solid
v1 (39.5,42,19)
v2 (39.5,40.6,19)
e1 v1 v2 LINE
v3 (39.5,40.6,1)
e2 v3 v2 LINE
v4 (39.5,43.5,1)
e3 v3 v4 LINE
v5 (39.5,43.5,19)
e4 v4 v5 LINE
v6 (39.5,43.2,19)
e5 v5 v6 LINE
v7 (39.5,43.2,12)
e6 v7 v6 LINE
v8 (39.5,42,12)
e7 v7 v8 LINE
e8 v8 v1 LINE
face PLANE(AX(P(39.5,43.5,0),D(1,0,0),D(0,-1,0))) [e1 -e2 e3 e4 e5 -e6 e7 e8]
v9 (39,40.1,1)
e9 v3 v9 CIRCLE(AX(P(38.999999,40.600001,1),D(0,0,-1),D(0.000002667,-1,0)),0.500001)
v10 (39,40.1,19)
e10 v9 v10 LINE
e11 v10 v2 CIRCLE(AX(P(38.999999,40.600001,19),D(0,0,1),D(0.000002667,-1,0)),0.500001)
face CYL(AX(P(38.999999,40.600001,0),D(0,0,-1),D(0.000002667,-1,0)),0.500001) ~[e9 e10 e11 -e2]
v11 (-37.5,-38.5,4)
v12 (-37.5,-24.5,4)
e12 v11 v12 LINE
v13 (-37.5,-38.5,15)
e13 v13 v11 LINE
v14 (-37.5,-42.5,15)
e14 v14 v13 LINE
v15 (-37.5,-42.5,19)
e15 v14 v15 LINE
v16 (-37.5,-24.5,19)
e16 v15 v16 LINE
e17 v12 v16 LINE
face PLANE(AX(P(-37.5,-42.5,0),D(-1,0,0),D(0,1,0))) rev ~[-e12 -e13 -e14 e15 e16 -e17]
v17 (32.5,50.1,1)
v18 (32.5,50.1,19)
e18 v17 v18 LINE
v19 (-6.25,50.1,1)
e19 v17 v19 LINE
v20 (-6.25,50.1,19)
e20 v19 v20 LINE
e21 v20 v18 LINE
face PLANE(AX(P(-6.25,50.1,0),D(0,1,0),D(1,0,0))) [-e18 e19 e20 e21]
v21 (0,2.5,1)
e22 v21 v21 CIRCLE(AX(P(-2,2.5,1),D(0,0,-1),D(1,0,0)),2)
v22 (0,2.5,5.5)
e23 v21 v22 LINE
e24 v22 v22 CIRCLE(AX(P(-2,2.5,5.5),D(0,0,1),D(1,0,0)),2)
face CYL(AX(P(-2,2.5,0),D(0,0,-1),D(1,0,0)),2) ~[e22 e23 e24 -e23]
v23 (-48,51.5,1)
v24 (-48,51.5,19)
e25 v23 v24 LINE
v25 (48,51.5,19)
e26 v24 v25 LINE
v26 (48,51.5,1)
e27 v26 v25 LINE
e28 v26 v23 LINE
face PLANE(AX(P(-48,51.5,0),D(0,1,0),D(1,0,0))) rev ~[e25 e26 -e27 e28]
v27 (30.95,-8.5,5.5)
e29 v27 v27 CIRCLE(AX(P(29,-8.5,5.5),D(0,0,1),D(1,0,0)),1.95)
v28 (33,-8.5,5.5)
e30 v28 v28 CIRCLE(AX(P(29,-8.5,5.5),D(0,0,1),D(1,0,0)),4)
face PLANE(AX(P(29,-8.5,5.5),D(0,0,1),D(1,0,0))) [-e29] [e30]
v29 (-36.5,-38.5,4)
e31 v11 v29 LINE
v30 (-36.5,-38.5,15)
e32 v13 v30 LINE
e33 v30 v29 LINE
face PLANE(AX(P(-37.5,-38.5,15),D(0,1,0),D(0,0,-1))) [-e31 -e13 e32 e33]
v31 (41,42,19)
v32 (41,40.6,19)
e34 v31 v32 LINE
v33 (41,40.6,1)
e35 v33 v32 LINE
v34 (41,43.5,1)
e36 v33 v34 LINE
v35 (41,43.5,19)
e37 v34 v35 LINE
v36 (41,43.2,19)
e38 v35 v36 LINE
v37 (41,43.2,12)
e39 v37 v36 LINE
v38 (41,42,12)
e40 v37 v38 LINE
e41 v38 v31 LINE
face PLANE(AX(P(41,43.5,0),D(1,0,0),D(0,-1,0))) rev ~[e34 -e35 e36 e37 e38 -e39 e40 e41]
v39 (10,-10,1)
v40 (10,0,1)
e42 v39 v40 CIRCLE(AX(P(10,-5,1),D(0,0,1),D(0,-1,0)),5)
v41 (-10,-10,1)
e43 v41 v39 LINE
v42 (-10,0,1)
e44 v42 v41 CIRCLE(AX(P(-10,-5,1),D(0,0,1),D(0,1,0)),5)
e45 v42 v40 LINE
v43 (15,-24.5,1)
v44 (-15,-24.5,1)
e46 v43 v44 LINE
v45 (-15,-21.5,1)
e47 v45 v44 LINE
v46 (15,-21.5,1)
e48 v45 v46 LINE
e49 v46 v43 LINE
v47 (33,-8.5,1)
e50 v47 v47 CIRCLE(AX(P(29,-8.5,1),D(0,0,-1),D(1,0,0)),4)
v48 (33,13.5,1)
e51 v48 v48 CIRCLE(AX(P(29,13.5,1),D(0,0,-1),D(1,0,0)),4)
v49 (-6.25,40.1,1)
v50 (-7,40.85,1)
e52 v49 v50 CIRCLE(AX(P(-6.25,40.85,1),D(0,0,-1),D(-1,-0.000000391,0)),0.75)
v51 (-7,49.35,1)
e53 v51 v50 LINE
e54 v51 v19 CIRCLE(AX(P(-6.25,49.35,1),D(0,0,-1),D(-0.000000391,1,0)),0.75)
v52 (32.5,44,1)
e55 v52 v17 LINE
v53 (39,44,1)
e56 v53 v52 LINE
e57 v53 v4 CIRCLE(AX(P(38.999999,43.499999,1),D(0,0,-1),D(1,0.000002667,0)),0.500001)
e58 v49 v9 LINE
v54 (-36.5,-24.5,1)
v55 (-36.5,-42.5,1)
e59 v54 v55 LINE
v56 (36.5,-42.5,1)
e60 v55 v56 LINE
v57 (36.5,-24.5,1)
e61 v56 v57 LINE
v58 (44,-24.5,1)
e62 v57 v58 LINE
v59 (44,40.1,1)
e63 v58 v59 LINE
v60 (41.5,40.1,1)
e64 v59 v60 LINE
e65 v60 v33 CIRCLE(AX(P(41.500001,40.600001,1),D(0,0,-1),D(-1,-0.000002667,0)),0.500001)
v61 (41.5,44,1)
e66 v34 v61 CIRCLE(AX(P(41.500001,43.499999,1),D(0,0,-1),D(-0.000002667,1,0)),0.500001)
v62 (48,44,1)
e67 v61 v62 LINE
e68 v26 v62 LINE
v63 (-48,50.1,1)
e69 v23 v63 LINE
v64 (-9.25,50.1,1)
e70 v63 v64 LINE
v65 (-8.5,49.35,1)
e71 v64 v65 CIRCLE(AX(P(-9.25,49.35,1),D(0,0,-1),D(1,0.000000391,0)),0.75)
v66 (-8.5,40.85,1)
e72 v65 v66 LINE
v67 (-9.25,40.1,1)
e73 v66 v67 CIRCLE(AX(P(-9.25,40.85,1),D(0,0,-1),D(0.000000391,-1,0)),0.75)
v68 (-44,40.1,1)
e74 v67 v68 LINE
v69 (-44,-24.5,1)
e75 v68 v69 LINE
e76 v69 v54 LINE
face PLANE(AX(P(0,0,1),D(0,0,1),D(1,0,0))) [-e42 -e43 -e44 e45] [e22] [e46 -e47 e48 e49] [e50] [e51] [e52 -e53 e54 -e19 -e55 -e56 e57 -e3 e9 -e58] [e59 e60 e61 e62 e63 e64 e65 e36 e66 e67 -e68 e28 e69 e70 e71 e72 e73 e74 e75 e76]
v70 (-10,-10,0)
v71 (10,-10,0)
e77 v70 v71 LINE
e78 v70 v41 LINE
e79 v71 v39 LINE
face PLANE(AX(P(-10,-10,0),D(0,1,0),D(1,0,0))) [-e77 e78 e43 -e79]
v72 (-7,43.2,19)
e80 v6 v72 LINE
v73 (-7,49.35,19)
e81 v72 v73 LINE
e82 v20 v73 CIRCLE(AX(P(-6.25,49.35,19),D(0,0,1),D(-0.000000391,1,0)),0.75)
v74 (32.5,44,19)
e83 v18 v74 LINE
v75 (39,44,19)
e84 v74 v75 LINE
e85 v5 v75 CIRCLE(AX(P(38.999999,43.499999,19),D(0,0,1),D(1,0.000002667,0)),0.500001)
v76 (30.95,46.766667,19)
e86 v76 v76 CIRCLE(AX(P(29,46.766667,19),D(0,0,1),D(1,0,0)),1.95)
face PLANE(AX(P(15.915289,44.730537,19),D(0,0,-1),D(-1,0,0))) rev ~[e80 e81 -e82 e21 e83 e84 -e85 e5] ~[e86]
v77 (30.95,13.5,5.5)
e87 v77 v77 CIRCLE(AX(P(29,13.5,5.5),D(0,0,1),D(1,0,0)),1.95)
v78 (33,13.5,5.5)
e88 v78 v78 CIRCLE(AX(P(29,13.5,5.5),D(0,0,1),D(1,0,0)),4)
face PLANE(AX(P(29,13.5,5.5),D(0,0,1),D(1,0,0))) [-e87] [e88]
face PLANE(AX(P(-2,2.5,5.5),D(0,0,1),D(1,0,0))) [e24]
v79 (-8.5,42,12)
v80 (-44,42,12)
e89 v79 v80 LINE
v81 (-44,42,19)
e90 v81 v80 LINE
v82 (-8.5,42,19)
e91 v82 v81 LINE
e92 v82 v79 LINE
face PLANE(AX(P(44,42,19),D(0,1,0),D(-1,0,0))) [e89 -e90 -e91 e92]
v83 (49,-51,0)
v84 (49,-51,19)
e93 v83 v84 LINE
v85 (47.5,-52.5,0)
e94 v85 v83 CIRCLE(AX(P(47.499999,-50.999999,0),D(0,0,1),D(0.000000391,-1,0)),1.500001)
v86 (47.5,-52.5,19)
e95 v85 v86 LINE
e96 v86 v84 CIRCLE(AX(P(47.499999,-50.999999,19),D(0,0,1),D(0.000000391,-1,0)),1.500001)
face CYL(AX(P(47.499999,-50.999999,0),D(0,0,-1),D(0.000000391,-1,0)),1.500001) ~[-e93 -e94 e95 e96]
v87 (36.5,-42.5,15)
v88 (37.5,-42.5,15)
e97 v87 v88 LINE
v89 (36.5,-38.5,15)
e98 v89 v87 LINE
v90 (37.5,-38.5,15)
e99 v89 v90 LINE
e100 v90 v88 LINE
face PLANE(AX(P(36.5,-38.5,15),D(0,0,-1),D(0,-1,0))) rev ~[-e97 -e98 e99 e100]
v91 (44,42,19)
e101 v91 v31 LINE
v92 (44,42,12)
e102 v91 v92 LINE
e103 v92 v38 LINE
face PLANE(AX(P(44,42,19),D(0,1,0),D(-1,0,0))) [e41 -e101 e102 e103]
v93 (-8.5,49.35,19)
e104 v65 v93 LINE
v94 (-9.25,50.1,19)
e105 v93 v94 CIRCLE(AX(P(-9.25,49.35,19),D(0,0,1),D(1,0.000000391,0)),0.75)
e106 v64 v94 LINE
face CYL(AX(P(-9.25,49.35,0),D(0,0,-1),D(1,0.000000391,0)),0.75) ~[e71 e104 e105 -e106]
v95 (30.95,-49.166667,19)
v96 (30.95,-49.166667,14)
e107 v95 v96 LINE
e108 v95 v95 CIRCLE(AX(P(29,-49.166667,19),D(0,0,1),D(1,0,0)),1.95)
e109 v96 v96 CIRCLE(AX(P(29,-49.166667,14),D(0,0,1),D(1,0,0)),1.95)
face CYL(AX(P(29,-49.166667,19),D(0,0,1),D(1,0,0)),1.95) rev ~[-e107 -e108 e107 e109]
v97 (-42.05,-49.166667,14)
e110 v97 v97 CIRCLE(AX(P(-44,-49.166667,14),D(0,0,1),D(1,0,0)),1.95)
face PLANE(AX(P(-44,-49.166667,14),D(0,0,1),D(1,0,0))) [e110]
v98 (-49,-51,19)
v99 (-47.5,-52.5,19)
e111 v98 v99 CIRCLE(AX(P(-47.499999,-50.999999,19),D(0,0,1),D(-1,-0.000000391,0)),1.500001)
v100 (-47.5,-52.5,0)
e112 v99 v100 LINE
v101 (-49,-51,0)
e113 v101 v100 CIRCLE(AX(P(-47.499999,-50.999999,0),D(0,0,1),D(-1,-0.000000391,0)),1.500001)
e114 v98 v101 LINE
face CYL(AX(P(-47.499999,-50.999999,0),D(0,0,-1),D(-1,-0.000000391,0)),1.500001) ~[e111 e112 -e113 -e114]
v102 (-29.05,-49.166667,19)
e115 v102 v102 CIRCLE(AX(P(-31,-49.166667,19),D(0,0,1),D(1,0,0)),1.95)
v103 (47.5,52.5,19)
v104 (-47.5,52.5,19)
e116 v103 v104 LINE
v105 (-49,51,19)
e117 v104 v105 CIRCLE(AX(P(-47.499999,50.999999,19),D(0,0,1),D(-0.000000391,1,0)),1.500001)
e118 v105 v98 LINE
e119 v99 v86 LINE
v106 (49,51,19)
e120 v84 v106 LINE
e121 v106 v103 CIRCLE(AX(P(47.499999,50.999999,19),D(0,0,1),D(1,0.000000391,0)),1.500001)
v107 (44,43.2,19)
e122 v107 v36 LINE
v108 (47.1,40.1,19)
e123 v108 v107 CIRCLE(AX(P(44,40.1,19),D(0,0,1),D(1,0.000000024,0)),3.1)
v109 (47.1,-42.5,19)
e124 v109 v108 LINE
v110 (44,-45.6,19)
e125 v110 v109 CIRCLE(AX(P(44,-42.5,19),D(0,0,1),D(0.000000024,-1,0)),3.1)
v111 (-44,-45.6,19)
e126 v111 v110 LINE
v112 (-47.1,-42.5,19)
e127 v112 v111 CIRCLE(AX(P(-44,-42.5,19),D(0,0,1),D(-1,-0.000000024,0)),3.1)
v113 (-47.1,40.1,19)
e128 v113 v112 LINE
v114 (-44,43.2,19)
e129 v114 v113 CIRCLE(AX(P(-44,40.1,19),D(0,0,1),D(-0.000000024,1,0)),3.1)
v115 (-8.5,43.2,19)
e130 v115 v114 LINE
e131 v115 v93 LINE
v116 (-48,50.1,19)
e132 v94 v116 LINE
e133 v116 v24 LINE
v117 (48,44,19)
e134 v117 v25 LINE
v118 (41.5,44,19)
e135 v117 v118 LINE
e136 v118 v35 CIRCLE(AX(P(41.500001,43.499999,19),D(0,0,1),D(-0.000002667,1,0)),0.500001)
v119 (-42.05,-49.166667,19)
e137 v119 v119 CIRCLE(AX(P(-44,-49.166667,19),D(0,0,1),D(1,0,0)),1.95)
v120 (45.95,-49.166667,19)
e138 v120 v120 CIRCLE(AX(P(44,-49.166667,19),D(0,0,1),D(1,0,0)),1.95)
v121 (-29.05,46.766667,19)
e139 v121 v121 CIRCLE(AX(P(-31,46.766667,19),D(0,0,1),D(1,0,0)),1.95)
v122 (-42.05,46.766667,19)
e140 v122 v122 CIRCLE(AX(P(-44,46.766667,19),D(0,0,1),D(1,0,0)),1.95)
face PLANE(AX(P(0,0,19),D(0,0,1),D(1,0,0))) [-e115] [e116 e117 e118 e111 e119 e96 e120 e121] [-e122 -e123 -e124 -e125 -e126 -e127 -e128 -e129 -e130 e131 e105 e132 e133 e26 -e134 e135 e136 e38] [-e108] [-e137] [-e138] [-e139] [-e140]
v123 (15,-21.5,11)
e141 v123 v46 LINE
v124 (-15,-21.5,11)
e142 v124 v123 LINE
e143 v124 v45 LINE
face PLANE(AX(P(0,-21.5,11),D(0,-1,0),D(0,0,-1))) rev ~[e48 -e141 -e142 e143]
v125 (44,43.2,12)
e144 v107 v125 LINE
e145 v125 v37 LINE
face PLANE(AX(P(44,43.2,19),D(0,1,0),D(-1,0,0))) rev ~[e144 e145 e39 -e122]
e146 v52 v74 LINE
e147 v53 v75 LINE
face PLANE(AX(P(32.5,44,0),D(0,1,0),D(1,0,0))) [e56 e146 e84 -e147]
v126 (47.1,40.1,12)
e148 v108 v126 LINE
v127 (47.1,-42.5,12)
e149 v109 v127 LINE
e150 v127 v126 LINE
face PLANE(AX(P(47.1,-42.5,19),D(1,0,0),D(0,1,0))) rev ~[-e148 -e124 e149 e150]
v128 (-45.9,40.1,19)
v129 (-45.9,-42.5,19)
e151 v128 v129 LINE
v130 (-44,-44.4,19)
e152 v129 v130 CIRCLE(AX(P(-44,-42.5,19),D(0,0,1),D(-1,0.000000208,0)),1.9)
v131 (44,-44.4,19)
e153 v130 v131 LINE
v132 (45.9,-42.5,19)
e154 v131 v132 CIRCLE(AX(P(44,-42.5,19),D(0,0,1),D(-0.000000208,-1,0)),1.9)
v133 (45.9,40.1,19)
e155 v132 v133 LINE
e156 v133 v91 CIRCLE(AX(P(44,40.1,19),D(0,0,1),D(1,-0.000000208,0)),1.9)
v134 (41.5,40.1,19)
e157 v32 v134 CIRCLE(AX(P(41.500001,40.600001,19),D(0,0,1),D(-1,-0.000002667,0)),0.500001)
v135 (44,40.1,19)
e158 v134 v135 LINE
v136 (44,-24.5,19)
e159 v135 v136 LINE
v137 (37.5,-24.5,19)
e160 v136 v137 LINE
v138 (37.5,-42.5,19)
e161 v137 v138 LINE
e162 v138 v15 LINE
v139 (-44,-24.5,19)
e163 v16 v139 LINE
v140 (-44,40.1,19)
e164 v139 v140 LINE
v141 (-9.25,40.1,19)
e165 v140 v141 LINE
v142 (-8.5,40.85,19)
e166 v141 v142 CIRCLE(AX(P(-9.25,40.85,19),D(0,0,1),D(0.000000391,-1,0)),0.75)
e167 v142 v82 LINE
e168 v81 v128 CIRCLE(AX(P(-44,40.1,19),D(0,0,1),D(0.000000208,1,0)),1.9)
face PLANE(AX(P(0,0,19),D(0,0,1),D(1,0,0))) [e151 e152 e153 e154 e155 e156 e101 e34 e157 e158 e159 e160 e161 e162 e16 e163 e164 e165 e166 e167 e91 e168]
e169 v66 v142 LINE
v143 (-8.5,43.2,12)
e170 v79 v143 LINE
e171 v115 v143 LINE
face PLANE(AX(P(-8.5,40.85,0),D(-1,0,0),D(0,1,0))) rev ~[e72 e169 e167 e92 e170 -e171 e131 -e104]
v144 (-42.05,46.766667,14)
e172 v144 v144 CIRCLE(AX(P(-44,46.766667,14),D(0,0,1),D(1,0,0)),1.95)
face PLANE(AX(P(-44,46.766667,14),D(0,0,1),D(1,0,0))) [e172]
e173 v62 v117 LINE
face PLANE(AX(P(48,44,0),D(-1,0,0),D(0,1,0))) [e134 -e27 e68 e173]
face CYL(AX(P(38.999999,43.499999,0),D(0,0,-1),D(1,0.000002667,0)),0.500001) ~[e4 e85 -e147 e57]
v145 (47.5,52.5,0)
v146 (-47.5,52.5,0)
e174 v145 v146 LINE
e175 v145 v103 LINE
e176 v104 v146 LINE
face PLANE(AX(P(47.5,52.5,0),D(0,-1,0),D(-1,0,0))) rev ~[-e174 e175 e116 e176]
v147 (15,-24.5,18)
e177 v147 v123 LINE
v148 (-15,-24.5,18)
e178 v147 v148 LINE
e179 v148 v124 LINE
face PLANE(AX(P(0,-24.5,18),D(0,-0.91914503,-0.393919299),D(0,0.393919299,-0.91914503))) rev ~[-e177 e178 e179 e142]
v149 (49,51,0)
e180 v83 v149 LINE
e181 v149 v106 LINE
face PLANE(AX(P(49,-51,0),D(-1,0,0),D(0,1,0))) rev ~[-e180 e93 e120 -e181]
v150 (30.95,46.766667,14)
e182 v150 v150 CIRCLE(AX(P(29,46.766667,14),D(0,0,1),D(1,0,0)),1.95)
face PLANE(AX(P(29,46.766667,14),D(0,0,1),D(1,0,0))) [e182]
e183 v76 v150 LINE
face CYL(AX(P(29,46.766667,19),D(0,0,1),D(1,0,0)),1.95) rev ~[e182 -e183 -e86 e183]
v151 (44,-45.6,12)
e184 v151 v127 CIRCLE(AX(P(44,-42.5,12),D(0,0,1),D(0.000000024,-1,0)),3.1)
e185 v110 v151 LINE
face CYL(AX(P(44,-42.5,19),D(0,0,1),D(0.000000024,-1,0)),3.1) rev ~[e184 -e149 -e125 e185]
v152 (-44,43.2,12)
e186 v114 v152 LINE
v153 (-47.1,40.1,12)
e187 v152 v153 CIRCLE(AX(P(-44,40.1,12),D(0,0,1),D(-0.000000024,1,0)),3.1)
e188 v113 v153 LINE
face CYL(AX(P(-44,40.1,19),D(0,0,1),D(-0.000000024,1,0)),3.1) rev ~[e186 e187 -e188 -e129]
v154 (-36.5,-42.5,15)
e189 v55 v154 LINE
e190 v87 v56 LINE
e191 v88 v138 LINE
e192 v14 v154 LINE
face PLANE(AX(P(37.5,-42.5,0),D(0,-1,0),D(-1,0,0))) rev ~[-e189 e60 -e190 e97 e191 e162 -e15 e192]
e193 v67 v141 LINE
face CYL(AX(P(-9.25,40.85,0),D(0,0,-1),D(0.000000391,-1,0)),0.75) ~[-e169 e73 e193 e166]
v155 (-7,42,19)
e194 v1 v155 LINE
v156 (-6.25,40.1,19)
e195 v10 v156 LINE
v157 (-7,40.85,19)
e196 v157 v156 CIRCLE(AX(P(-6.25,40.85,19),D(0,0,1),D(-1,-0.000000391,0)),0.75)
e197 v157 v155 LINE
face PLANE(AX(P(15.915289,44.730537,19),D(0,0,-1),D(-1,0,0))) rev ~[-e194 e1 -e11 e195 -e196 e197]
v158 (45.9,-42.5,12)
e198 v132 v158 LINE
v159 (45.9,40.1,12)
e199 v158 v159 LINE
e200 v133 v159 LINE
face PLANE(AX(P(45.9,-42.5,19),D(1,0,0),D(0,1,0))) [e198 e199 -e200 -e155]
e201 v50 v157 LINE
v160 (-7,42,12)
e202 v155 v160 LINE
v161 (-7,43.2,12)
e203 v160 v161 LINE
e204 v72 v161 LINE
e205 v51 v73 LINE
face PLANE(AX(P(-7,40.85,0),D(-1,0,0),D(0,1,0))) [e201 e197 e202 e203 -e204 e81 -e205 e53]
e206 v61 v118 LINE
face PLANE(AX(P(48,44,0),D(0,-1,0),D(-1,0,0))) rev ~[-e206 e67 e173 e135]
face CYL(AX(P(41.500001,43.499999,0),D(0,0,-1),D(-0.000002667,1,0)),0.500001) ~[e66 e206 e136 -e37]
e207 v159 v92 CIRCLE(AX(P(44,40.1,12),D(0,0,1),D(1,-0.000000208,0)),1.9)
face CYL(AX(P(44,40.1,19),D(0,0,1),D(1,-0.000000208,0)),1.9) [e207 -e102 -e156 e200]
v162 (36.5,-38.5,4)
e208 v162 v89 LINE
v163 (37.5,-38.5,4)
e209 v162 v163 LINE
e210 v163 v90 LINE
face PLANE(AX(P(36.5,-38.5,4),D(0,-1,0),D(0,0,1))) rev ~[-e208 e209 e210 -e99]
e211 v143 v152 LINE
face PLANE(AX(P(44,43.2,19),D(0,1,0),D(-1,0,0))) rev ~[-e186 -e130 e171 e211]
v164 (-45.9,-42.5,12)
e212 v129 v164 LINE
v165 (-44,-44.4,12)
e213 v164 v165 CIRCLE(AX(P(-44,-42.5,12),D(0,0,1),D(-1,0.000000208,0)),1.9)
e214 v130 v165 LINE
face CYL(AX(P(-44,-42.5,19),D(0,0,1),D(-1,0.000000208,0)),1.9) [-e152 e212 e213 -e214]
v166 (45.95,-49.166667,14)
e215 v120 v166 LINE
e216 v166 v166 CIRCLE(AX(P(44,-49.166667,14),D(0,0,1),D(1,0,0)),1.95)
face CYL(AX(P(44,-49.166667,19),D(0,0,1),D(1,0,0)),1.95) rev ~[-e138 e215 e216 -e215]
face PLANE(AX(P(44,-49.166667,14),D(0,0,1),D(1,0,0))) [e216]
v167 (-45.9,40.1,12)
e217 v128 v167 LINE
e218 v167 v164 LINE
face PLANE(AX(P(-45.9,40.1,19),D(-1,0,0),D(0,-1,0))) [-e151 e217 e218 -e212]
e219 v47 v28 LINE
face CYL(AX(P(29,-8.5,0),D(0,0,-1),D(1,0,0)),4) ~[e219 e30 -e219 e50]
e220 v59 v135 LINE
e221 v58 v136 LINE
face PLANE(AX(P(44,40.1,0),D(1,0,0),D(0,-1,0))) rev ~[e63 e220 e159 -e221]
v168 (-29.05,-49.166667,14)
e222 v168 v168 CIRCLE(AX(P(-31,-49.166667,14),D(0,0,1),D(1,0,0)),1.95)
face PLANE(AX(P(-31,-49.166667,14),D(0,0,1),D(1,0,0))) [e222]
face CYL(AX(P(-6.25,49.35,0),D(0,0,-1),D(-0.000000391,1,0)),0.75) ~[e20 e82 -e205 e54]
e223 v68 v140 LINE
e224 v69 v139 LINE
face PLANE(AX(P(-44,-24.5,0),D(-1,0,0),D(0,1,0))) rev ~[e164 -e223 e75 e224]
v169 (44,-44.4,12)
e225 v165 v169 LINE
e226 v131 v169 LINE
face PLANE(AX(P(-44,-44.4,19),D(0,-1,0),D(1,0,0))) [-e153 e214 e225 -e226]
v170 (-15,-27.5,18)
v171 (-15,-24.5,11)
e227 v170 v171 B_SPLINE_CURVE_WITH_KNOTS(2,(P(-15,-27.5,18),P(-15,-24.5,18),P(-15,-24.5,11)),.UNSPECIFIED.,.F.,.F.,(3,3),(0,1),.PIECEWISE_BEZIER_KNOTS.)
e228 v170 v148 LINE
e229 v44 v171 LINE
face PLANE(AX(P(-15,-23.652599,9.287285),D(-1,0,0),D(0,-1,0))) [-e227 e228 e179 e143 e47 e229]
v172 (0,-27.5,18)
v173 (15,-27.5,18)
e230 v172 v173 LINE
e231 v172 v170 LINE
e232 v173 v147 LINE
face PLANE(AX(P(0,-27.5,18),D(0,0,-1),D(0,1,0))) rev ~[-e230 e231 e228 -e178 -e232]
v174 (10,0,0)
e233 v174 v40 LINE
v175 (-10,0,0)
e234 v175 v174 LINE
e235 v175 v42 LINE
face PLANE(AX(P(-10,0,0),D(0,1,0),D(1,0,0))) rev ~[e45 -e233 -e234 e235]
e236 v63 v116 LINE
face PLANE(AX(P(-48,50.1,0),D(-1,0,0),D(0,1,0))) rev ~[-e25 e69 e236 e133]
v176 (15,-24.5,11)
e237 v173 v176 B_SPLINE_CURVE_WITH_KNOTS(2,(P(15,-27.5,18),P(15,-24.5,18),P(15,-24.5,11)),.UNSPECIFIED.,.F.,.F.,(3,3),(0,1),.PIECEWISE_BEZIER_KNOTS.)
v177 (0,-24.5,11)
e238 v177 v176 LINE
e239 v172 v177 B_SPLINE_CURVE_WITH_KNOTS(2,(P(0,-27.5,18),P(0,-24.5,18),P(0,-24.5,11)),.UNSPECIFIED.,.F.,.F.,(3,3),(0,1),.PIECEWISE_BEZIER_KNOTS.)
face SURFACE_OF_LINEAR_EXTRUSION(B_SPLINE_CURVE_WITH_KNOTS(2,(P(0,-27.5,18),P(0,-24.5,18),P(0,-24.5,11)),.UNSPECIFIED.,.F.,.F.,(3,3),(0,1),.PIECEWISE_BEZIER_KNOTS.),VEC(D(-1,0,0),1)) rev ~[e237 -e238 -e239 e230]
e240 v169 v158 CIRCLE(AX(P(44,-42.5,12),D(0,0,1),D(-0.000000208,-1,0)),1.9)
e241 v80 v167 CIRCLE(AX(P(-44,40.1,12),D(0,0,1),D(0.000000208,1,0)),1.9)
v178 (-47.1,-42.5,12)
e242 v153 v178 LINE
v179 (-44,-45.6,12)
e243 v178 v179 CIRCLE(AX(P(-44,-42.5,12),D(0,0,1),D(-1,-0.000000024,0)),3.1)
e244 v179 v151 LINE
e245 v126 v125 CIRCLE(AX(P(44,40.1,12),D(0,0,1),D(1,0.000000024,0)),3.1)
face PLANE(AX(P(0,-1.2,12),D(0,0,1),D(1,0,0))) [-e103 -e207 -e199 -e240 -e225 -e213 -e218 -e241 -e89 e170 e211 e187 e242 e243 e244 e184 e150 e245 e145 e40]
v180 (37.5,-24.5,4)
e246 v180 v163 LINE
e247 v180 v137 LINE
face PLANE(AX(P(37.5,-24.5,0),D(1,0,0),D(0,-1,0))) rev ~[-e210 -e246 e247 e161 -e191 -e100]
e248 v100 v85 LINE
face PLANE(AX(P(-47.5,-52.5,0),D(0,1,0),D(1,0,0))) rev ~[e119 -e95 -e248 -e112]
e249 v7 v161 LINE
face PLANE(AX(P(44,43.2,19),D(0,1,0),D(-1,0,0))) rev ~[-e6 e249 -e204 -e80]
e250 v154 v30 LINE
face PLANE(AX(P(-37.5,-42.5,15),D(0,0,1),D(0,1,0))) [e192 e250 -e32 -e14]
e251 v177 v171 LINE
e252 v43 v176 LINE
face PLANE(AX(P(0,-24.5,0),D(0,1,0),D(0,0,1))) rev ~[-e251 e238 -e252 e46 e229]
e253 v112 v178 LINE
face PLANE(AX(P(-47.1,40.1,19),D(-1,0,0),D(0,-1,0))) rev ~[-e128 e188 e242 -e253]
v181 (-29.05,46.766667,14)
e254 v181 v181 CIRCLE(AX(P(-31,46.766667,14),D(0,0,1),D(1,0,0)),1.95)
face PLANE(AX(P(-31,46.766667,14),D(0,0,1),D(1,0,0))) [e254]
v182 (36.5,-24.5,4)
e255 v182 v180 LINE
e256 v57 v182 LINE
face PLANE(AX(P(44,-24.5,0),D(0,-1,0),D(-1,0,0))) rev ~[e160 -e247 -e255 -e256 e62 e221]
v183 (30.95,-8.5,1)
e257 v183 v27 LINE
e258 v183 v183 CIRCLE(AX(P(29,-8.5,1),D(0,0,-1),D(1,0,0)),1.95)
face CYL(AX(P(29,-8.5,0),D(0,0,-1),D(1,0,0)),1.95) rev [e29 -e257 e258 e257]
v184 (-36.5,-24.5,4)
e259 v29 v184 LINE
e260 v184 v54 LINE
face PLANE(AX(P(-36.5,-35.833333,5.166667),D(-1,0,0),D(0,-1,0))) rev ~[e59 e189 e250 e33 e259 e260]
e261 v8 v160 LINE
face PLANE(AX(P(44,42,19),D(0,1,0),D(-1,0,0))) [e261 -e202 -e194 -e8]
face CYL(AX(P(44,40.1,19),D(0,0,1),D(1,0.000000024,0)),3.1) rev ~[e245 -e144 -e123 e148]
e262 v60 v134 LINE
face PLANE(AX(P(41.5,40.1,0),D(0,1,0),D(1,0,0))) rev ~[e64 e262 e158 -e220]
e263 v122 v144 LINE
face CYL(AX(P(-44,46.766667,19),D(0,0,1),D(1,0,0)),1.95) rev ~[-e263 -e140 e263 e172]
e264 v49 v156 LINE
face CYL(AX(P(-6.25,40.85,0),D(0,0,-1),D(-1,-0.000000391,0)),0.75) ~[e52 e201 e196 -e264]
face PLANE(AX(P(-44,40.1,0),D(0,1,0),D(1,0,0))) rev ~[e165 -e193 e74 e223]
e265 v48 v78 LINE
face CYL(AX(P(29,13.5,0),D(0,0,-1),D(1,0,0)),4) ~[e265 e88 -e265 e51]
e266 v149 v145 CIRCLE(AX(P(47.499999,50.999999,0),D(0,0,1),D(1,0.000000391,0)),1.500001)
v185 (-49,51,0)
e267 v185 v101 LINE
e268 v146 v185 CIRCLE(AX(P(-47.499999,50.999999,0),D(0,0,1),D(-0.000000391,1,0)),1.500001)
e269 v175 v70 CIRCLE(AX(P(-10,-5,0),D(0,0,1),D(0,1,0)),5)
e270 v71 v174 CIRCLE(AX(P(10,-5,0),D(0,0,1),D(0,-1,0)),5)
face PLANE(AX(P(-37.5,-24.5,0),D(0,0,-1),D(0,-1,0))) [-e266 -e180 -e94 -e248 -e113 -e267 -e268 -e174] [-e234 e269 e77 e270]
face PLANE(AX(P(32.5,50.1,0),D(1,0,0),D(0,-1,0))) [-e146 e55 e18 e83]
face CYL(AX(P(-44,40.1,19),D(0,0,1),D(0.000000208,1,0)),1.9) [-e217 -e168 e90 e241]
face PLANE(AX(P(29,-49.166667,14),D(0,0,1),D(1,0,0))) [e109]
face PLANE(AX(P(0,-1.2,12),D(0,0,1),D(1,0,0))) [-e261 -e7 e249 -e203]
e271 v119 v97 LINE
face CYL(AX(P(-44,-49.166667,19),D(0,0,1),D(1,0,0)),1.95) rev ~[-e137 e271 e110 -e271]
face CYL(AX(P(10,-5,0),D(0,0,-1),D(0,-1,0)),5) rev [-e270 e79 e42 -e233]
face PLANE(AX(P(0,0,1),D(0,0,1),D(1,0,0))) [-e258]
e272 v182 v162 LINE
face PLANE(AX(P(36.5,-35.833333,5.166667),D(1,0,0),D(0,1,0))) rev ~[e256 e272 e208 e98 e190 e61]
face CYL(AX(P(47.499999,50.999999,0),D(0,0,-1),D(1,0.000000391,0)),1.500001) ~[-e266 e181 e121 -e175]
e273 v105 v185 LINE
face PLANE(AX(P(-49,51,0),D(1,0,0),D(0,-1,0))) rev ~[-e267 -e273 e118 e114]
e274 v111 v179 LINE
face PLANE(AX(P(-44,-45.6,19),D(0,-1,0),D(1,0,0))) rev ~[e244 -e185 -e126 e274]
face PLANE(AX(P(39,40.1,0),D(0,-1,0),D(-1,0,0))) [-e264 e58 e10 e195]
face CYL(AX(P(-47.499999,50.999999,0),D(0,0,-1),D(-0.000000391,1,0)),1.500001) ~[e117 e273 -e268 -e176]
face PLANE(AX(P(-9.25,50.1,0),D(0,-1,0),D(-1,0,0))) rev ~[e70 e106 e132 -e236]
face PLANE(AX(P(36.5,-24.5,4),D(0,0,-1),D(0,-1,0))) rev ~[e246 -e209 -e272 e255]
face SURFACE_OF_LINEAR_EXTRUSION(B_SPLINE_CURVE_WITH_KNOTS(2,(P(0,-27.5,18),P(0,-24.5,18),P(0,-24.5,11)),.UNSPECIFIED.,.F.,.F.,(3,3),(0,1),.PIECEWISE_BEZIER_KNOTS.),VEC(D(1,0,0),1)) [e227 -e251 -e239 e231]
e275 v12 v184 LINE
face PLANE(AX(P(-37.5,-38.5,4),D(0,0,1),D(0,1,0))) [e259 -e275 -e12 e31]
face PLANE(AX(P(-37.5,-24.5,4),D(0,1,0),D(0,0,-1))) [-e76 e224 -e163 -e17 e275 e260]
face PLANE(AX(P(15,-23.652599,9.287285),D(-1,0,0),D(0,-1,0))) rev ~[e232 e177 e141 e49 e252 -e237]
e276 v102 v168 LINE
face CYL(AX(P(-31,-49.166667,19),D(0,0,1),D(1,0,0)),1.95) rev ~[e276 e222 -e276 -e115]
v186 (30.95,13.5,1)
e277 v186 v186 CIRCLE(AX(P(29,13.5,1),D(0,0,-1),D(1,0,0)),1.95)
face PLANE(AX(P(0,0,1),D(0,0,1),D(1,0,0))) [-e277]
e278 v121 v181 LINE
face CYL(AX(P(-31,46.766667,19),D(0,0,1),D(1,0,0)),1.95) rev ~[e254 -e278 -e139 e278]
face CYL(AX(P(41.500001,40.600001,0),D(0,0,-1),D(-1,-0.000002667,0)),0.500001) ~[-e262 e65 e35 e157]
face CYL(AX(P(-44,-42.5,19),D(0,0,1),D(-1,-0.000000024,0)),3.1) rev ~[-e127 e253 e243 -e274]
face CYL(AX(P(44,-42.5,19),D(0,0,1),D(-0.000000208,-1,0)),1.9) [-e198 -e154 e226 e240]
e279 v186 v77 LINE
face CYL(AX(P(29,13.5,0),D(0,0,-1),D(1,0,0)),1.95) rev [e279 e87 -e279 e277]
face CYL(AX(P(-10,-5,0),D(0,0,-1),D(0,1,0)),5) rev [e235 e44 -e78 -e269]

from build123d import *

# Parameters (mm, degrees)
PAD_DEPTH       = 1
PAD001_DEPTH    = 19
SKETCH002_R     = 4
SKETCH002_R_2   = 1.95
SKETCH002_R_3   = 2
PAD002_DEPTH    = 5.5
PAD003_DEPTH    = 15
POCKET_DEPTH    = 7
PAD004_DEPTH    = 1
SKETCH007_R     = 1.95
POCKET001_DEPTH = 5
PAD014_DEPTH    = 1


with BuildPart() as part:
    # Sketch → Pad (new body)
    with BuildSketch(Plane.XY):
        with BuildLine():
            Line((-47.5, -52.5), (47.5, -52.5))
            ThreePointArc((47.5, -52.5), (48.56066, -52.06066), (49, -51))
            Line((49, -51), (49, 51))
            ThreePointArc((49, 51), (48.56066, 52.06066), (47.5, 52.5))
            Line((47.5, 52.5), (-47.5, 52.5))
            ThreePointArc((-47.5, 52.5), (-48.56066, 52.06066), (-49, 51))
            Line((-49, 51), (-49, -51))
            ThreePointArc((-49, -51), (-48.56066, -52.06066), (-47.5, -52.5))
        make_face()
        with BuildLine():
            ThreePointArc((-10, 0), (-15, -5), (-10, -10))
            Line((-10, -10), (10, -10))
            ThreePointArc((10, -10), (15, -5), (10, 0))
            Line((-10, 0), (10, 0))
        make_face(mode=Mode.SUBTRACT)
    extrude(amount=PAD_DEPTH)

    # Sketch001 → Pad001 (join)
    with BuildSketch(Plane.XY):
        with BuildLine():
            Line((-47.5, -52.5), (47.5, -52.5))
            ThreePointArc((47.5, -52.5), (48.56066, -52.06066), (49, -51))
            Line((49, -51), (49, 51))
            ThreePointArc((49, 51), (48.56066, 52.06066), (47.5, 52.5))
            Line((47.5, 52.5), (-47.5, 52.5))
            ThreePointArc((-47.5, 52.5), (-48.56066, 52.06066), (-49, 51))
            Line((-49, 51), (-49, -51))
            ThreePointArc((-49, -51), (-48.56066, -52.06066), (-47.5, -52.5))
        make_face()
        with BuildLine():
            Line((44, 40.1), (44, -24.5))
            Line((44, -24.5), (37.5, -24.5))
            Line((37.5, -24.5), (37.5, -42.5))
            Line((37.5, -42.5), (-37.5, -42.5))
            Line((-37.5, -42.5), (-37.5, -24.5))
            Line((-37.5, -24.5), (-44, -24.5))
            Line((-44, -24.5), (-44, 40.1))
            Line((-44, 40.1), (-9.25, 40.1))
            ThreePointArc((-9.25, 40.1), (-8.71967, 40.31967), (-8.5, 40.85))
            Line((-8.5, 40.85), (-8.5, 49.35))
            ThreePointArc((-8.5, 49.35), (-8.71967, 49.88033), (-9.25, 50.1))
            Line((-9.25, 50.1), (-48, 50.1))
            Line((-48, 50.1), (-48, 51.5))
            Line((-48, 51.5), (48, 51.5))
            Line((48, 44), (48, 51.5))
            Line((48, 44), (41.5, 44))
            ThreePointArc((41.5, 44), (41.146447, 43.853553), (41, 43.5))
            Line((41, 43.5), (41, 40.6))
            ThreePointArc((41, 40.6), (41.146447, 40.246447), (41.5, 40.1))
            Line((41.5, 40.1), (44, 40.1))
        make_face(mode=Mode.SUBTRACT)
        with BuildLine():
            Line((-7, 40.85), (-7, 49.35))
            ThreePointArc((-6.25, 50.1), (-6.78033, 49.88033), (-7, 49.35))
            Line((-6.25, 50.1), (32.5, 50.1))
            Line((32.5, 50.1), (32.5, 44))
            Line((32.5, 44), (39, 44))
            ThreePointArc((39.5, 43.5), (39.353553, 43.853553), (39, 44))
            Line((39.5, 43.5), (39.5, 40.6))
            ThreePointArc((39, 40.1), (39.353553, 40.246447), (39.5, 40.6))
            Line((39, 40.1), (-6.25, 40.1))
            ThreePointArc((-7, 40.85), (-6.78033, 40.31967), (-6.25, 40.1))
        make_face()
    extrude(amount=PAD001_DEPTH)

    # Sketch002 → Pad002 (join)
    with BuildSketch(Plane.XY):
        with Locations((29, 13.5)):
            Circle(SKETCH002_R)
        with Locations((29, 13.5)):
            Circle(SKETCH002_R_2, mode=Mode.SUBTRACT)
        with Locations((29, -8.5)):
            Circle(SKETCH002_R)
        with Locations((29, -8.5)):
            Circle(SKETCH002_R_2, mode=Mode.SUBTRACT)
        with Locations((-2, 2.5)):
            Circle(SKETCH002_R_3)
    extrude(amount=PAD002_DEPTH)

    # Sketch003 → Pad003 (join, symmetric)
    with BuildSketch(Plane.YZ):
        with BuildLine():
            Line((-24.5, 0), (-24.5, 11))
            add(Edge.make_bspline(
                [(-27.5, 18), (-24.5, 18), (-24.5, 11)],
                knots=[0, 0, 0, 1, 1, 1], degree=2))
            Line((-27.5, 18), (-24.5, 18))
            Line((-24.5, 18), (-21.5, 11))
            Line((-21.5, 11), (-21.5, 0))
            Line((-21.5, 0), (-24.5, 0))
        make_face()
    extrude(amount=PAD003_DEPTH, both=True)

    # Sketch004 (on Face14 of Pad003) → Pocket (cut)
    with BuildSketch(Plane.XY.offset(19)):
        with BuildLine():
            Line((47.1, -42.5), (47.1, 40.1))
            ThreePointArc((47.1, 40.1), (46.192031, 42.292031), (44, 43.2))
            Line((44, 43.2), (-44, 43.2))
            ThreePointArc((-44, 43.2), (-46.192031, 42.292031), (-47.1, 40.1))
            Line((-47.1, 40.1), (-47.1, -42.5))
            ThreePointArc((-47.1, -42.5), (-46.192031, -44.692031), (-44, -45.6))
            Line((-44, -45.6), (44, -45.6))
            ThreePointArc((44, -45.6), (46.192031, -44.692031), (47.1, -42.5))
        make_face()
        with BuildLine():
            Line((45.9, -42.5), (45.9, 40.1))
            ThreePointArc((45.9, 40.1), (45.343503, 41.443503), (44, 42))
            Line((44, 42), (-44, 42))
            ThreePointArc((-44, 42), (-45.343503, 41.443503), (-45.9, 40.1))
            Line((-45.9, 40.1), (-45.9, -42.5))
            ThreePointArc((-45.9, -42.5), (-45.343503, -43.843503), (-44, -44.4))
            Line((-44, -44.4), (44, -44.4))
            ThreePointArc((44, -44.4), (45.343503, -43.843503), (45.9, -42.5))
        make_face(mode=Mode.SUBTRACT)
    extrude(amount=-POCKET_DEPTH, mode=Mode.SUBTRACT)

    # Sketch005 → Pad004 (join)
    with BuildSketch(Plane.YZ.offset(36.5)):
        Polygon((-24.5, 0), (-24.5, 4), (-38.5, 4), (-38.5, 15), (-42.5, 15), (-42.5, 0), align=None)
    extrude(amount=PAD004_DEPTH)

    # Sketch007 (on DatumPlane) → Pocket001 (cut)
    with BuildSketch(Plane.XY.offset(19)):
        with Locations((-44, -49.166667)):
            Circle(SKETCH007_R)
        with Locations((44, -49.166667)):
            Circle(SKETCH007_R)
        with Locations((-44, 46.766667)):
            Circle(SKETCH007_R)
        with Locations((29, 46.766667)):
            Circle(SKETCH007_R)
        with Locations((-31, 46.766667)):
            Circle(SKETCH007_R)
        with Locations((29, -49.166667)):
            Circle(SKETCH007_R)
        with Locations((-31, -49.166667)):
            Circle(SKETCH007_R)
    extrude(amount=-POCKET001_DEPTH, mode=Mode.SUBTRACT)

    # Sketch006 → Pad014 (join)
    with BuildSketch(Plane.YZ.offset(-37.5)):
        Polygon((-42.5, 0), (-42.5, 15), (-38.5, 15), (-38.5, 4), (-24.5, 4), (-24.5, 0), align=None)
    extrude(amount=PAD014_DEPTH)


solid = part.part
